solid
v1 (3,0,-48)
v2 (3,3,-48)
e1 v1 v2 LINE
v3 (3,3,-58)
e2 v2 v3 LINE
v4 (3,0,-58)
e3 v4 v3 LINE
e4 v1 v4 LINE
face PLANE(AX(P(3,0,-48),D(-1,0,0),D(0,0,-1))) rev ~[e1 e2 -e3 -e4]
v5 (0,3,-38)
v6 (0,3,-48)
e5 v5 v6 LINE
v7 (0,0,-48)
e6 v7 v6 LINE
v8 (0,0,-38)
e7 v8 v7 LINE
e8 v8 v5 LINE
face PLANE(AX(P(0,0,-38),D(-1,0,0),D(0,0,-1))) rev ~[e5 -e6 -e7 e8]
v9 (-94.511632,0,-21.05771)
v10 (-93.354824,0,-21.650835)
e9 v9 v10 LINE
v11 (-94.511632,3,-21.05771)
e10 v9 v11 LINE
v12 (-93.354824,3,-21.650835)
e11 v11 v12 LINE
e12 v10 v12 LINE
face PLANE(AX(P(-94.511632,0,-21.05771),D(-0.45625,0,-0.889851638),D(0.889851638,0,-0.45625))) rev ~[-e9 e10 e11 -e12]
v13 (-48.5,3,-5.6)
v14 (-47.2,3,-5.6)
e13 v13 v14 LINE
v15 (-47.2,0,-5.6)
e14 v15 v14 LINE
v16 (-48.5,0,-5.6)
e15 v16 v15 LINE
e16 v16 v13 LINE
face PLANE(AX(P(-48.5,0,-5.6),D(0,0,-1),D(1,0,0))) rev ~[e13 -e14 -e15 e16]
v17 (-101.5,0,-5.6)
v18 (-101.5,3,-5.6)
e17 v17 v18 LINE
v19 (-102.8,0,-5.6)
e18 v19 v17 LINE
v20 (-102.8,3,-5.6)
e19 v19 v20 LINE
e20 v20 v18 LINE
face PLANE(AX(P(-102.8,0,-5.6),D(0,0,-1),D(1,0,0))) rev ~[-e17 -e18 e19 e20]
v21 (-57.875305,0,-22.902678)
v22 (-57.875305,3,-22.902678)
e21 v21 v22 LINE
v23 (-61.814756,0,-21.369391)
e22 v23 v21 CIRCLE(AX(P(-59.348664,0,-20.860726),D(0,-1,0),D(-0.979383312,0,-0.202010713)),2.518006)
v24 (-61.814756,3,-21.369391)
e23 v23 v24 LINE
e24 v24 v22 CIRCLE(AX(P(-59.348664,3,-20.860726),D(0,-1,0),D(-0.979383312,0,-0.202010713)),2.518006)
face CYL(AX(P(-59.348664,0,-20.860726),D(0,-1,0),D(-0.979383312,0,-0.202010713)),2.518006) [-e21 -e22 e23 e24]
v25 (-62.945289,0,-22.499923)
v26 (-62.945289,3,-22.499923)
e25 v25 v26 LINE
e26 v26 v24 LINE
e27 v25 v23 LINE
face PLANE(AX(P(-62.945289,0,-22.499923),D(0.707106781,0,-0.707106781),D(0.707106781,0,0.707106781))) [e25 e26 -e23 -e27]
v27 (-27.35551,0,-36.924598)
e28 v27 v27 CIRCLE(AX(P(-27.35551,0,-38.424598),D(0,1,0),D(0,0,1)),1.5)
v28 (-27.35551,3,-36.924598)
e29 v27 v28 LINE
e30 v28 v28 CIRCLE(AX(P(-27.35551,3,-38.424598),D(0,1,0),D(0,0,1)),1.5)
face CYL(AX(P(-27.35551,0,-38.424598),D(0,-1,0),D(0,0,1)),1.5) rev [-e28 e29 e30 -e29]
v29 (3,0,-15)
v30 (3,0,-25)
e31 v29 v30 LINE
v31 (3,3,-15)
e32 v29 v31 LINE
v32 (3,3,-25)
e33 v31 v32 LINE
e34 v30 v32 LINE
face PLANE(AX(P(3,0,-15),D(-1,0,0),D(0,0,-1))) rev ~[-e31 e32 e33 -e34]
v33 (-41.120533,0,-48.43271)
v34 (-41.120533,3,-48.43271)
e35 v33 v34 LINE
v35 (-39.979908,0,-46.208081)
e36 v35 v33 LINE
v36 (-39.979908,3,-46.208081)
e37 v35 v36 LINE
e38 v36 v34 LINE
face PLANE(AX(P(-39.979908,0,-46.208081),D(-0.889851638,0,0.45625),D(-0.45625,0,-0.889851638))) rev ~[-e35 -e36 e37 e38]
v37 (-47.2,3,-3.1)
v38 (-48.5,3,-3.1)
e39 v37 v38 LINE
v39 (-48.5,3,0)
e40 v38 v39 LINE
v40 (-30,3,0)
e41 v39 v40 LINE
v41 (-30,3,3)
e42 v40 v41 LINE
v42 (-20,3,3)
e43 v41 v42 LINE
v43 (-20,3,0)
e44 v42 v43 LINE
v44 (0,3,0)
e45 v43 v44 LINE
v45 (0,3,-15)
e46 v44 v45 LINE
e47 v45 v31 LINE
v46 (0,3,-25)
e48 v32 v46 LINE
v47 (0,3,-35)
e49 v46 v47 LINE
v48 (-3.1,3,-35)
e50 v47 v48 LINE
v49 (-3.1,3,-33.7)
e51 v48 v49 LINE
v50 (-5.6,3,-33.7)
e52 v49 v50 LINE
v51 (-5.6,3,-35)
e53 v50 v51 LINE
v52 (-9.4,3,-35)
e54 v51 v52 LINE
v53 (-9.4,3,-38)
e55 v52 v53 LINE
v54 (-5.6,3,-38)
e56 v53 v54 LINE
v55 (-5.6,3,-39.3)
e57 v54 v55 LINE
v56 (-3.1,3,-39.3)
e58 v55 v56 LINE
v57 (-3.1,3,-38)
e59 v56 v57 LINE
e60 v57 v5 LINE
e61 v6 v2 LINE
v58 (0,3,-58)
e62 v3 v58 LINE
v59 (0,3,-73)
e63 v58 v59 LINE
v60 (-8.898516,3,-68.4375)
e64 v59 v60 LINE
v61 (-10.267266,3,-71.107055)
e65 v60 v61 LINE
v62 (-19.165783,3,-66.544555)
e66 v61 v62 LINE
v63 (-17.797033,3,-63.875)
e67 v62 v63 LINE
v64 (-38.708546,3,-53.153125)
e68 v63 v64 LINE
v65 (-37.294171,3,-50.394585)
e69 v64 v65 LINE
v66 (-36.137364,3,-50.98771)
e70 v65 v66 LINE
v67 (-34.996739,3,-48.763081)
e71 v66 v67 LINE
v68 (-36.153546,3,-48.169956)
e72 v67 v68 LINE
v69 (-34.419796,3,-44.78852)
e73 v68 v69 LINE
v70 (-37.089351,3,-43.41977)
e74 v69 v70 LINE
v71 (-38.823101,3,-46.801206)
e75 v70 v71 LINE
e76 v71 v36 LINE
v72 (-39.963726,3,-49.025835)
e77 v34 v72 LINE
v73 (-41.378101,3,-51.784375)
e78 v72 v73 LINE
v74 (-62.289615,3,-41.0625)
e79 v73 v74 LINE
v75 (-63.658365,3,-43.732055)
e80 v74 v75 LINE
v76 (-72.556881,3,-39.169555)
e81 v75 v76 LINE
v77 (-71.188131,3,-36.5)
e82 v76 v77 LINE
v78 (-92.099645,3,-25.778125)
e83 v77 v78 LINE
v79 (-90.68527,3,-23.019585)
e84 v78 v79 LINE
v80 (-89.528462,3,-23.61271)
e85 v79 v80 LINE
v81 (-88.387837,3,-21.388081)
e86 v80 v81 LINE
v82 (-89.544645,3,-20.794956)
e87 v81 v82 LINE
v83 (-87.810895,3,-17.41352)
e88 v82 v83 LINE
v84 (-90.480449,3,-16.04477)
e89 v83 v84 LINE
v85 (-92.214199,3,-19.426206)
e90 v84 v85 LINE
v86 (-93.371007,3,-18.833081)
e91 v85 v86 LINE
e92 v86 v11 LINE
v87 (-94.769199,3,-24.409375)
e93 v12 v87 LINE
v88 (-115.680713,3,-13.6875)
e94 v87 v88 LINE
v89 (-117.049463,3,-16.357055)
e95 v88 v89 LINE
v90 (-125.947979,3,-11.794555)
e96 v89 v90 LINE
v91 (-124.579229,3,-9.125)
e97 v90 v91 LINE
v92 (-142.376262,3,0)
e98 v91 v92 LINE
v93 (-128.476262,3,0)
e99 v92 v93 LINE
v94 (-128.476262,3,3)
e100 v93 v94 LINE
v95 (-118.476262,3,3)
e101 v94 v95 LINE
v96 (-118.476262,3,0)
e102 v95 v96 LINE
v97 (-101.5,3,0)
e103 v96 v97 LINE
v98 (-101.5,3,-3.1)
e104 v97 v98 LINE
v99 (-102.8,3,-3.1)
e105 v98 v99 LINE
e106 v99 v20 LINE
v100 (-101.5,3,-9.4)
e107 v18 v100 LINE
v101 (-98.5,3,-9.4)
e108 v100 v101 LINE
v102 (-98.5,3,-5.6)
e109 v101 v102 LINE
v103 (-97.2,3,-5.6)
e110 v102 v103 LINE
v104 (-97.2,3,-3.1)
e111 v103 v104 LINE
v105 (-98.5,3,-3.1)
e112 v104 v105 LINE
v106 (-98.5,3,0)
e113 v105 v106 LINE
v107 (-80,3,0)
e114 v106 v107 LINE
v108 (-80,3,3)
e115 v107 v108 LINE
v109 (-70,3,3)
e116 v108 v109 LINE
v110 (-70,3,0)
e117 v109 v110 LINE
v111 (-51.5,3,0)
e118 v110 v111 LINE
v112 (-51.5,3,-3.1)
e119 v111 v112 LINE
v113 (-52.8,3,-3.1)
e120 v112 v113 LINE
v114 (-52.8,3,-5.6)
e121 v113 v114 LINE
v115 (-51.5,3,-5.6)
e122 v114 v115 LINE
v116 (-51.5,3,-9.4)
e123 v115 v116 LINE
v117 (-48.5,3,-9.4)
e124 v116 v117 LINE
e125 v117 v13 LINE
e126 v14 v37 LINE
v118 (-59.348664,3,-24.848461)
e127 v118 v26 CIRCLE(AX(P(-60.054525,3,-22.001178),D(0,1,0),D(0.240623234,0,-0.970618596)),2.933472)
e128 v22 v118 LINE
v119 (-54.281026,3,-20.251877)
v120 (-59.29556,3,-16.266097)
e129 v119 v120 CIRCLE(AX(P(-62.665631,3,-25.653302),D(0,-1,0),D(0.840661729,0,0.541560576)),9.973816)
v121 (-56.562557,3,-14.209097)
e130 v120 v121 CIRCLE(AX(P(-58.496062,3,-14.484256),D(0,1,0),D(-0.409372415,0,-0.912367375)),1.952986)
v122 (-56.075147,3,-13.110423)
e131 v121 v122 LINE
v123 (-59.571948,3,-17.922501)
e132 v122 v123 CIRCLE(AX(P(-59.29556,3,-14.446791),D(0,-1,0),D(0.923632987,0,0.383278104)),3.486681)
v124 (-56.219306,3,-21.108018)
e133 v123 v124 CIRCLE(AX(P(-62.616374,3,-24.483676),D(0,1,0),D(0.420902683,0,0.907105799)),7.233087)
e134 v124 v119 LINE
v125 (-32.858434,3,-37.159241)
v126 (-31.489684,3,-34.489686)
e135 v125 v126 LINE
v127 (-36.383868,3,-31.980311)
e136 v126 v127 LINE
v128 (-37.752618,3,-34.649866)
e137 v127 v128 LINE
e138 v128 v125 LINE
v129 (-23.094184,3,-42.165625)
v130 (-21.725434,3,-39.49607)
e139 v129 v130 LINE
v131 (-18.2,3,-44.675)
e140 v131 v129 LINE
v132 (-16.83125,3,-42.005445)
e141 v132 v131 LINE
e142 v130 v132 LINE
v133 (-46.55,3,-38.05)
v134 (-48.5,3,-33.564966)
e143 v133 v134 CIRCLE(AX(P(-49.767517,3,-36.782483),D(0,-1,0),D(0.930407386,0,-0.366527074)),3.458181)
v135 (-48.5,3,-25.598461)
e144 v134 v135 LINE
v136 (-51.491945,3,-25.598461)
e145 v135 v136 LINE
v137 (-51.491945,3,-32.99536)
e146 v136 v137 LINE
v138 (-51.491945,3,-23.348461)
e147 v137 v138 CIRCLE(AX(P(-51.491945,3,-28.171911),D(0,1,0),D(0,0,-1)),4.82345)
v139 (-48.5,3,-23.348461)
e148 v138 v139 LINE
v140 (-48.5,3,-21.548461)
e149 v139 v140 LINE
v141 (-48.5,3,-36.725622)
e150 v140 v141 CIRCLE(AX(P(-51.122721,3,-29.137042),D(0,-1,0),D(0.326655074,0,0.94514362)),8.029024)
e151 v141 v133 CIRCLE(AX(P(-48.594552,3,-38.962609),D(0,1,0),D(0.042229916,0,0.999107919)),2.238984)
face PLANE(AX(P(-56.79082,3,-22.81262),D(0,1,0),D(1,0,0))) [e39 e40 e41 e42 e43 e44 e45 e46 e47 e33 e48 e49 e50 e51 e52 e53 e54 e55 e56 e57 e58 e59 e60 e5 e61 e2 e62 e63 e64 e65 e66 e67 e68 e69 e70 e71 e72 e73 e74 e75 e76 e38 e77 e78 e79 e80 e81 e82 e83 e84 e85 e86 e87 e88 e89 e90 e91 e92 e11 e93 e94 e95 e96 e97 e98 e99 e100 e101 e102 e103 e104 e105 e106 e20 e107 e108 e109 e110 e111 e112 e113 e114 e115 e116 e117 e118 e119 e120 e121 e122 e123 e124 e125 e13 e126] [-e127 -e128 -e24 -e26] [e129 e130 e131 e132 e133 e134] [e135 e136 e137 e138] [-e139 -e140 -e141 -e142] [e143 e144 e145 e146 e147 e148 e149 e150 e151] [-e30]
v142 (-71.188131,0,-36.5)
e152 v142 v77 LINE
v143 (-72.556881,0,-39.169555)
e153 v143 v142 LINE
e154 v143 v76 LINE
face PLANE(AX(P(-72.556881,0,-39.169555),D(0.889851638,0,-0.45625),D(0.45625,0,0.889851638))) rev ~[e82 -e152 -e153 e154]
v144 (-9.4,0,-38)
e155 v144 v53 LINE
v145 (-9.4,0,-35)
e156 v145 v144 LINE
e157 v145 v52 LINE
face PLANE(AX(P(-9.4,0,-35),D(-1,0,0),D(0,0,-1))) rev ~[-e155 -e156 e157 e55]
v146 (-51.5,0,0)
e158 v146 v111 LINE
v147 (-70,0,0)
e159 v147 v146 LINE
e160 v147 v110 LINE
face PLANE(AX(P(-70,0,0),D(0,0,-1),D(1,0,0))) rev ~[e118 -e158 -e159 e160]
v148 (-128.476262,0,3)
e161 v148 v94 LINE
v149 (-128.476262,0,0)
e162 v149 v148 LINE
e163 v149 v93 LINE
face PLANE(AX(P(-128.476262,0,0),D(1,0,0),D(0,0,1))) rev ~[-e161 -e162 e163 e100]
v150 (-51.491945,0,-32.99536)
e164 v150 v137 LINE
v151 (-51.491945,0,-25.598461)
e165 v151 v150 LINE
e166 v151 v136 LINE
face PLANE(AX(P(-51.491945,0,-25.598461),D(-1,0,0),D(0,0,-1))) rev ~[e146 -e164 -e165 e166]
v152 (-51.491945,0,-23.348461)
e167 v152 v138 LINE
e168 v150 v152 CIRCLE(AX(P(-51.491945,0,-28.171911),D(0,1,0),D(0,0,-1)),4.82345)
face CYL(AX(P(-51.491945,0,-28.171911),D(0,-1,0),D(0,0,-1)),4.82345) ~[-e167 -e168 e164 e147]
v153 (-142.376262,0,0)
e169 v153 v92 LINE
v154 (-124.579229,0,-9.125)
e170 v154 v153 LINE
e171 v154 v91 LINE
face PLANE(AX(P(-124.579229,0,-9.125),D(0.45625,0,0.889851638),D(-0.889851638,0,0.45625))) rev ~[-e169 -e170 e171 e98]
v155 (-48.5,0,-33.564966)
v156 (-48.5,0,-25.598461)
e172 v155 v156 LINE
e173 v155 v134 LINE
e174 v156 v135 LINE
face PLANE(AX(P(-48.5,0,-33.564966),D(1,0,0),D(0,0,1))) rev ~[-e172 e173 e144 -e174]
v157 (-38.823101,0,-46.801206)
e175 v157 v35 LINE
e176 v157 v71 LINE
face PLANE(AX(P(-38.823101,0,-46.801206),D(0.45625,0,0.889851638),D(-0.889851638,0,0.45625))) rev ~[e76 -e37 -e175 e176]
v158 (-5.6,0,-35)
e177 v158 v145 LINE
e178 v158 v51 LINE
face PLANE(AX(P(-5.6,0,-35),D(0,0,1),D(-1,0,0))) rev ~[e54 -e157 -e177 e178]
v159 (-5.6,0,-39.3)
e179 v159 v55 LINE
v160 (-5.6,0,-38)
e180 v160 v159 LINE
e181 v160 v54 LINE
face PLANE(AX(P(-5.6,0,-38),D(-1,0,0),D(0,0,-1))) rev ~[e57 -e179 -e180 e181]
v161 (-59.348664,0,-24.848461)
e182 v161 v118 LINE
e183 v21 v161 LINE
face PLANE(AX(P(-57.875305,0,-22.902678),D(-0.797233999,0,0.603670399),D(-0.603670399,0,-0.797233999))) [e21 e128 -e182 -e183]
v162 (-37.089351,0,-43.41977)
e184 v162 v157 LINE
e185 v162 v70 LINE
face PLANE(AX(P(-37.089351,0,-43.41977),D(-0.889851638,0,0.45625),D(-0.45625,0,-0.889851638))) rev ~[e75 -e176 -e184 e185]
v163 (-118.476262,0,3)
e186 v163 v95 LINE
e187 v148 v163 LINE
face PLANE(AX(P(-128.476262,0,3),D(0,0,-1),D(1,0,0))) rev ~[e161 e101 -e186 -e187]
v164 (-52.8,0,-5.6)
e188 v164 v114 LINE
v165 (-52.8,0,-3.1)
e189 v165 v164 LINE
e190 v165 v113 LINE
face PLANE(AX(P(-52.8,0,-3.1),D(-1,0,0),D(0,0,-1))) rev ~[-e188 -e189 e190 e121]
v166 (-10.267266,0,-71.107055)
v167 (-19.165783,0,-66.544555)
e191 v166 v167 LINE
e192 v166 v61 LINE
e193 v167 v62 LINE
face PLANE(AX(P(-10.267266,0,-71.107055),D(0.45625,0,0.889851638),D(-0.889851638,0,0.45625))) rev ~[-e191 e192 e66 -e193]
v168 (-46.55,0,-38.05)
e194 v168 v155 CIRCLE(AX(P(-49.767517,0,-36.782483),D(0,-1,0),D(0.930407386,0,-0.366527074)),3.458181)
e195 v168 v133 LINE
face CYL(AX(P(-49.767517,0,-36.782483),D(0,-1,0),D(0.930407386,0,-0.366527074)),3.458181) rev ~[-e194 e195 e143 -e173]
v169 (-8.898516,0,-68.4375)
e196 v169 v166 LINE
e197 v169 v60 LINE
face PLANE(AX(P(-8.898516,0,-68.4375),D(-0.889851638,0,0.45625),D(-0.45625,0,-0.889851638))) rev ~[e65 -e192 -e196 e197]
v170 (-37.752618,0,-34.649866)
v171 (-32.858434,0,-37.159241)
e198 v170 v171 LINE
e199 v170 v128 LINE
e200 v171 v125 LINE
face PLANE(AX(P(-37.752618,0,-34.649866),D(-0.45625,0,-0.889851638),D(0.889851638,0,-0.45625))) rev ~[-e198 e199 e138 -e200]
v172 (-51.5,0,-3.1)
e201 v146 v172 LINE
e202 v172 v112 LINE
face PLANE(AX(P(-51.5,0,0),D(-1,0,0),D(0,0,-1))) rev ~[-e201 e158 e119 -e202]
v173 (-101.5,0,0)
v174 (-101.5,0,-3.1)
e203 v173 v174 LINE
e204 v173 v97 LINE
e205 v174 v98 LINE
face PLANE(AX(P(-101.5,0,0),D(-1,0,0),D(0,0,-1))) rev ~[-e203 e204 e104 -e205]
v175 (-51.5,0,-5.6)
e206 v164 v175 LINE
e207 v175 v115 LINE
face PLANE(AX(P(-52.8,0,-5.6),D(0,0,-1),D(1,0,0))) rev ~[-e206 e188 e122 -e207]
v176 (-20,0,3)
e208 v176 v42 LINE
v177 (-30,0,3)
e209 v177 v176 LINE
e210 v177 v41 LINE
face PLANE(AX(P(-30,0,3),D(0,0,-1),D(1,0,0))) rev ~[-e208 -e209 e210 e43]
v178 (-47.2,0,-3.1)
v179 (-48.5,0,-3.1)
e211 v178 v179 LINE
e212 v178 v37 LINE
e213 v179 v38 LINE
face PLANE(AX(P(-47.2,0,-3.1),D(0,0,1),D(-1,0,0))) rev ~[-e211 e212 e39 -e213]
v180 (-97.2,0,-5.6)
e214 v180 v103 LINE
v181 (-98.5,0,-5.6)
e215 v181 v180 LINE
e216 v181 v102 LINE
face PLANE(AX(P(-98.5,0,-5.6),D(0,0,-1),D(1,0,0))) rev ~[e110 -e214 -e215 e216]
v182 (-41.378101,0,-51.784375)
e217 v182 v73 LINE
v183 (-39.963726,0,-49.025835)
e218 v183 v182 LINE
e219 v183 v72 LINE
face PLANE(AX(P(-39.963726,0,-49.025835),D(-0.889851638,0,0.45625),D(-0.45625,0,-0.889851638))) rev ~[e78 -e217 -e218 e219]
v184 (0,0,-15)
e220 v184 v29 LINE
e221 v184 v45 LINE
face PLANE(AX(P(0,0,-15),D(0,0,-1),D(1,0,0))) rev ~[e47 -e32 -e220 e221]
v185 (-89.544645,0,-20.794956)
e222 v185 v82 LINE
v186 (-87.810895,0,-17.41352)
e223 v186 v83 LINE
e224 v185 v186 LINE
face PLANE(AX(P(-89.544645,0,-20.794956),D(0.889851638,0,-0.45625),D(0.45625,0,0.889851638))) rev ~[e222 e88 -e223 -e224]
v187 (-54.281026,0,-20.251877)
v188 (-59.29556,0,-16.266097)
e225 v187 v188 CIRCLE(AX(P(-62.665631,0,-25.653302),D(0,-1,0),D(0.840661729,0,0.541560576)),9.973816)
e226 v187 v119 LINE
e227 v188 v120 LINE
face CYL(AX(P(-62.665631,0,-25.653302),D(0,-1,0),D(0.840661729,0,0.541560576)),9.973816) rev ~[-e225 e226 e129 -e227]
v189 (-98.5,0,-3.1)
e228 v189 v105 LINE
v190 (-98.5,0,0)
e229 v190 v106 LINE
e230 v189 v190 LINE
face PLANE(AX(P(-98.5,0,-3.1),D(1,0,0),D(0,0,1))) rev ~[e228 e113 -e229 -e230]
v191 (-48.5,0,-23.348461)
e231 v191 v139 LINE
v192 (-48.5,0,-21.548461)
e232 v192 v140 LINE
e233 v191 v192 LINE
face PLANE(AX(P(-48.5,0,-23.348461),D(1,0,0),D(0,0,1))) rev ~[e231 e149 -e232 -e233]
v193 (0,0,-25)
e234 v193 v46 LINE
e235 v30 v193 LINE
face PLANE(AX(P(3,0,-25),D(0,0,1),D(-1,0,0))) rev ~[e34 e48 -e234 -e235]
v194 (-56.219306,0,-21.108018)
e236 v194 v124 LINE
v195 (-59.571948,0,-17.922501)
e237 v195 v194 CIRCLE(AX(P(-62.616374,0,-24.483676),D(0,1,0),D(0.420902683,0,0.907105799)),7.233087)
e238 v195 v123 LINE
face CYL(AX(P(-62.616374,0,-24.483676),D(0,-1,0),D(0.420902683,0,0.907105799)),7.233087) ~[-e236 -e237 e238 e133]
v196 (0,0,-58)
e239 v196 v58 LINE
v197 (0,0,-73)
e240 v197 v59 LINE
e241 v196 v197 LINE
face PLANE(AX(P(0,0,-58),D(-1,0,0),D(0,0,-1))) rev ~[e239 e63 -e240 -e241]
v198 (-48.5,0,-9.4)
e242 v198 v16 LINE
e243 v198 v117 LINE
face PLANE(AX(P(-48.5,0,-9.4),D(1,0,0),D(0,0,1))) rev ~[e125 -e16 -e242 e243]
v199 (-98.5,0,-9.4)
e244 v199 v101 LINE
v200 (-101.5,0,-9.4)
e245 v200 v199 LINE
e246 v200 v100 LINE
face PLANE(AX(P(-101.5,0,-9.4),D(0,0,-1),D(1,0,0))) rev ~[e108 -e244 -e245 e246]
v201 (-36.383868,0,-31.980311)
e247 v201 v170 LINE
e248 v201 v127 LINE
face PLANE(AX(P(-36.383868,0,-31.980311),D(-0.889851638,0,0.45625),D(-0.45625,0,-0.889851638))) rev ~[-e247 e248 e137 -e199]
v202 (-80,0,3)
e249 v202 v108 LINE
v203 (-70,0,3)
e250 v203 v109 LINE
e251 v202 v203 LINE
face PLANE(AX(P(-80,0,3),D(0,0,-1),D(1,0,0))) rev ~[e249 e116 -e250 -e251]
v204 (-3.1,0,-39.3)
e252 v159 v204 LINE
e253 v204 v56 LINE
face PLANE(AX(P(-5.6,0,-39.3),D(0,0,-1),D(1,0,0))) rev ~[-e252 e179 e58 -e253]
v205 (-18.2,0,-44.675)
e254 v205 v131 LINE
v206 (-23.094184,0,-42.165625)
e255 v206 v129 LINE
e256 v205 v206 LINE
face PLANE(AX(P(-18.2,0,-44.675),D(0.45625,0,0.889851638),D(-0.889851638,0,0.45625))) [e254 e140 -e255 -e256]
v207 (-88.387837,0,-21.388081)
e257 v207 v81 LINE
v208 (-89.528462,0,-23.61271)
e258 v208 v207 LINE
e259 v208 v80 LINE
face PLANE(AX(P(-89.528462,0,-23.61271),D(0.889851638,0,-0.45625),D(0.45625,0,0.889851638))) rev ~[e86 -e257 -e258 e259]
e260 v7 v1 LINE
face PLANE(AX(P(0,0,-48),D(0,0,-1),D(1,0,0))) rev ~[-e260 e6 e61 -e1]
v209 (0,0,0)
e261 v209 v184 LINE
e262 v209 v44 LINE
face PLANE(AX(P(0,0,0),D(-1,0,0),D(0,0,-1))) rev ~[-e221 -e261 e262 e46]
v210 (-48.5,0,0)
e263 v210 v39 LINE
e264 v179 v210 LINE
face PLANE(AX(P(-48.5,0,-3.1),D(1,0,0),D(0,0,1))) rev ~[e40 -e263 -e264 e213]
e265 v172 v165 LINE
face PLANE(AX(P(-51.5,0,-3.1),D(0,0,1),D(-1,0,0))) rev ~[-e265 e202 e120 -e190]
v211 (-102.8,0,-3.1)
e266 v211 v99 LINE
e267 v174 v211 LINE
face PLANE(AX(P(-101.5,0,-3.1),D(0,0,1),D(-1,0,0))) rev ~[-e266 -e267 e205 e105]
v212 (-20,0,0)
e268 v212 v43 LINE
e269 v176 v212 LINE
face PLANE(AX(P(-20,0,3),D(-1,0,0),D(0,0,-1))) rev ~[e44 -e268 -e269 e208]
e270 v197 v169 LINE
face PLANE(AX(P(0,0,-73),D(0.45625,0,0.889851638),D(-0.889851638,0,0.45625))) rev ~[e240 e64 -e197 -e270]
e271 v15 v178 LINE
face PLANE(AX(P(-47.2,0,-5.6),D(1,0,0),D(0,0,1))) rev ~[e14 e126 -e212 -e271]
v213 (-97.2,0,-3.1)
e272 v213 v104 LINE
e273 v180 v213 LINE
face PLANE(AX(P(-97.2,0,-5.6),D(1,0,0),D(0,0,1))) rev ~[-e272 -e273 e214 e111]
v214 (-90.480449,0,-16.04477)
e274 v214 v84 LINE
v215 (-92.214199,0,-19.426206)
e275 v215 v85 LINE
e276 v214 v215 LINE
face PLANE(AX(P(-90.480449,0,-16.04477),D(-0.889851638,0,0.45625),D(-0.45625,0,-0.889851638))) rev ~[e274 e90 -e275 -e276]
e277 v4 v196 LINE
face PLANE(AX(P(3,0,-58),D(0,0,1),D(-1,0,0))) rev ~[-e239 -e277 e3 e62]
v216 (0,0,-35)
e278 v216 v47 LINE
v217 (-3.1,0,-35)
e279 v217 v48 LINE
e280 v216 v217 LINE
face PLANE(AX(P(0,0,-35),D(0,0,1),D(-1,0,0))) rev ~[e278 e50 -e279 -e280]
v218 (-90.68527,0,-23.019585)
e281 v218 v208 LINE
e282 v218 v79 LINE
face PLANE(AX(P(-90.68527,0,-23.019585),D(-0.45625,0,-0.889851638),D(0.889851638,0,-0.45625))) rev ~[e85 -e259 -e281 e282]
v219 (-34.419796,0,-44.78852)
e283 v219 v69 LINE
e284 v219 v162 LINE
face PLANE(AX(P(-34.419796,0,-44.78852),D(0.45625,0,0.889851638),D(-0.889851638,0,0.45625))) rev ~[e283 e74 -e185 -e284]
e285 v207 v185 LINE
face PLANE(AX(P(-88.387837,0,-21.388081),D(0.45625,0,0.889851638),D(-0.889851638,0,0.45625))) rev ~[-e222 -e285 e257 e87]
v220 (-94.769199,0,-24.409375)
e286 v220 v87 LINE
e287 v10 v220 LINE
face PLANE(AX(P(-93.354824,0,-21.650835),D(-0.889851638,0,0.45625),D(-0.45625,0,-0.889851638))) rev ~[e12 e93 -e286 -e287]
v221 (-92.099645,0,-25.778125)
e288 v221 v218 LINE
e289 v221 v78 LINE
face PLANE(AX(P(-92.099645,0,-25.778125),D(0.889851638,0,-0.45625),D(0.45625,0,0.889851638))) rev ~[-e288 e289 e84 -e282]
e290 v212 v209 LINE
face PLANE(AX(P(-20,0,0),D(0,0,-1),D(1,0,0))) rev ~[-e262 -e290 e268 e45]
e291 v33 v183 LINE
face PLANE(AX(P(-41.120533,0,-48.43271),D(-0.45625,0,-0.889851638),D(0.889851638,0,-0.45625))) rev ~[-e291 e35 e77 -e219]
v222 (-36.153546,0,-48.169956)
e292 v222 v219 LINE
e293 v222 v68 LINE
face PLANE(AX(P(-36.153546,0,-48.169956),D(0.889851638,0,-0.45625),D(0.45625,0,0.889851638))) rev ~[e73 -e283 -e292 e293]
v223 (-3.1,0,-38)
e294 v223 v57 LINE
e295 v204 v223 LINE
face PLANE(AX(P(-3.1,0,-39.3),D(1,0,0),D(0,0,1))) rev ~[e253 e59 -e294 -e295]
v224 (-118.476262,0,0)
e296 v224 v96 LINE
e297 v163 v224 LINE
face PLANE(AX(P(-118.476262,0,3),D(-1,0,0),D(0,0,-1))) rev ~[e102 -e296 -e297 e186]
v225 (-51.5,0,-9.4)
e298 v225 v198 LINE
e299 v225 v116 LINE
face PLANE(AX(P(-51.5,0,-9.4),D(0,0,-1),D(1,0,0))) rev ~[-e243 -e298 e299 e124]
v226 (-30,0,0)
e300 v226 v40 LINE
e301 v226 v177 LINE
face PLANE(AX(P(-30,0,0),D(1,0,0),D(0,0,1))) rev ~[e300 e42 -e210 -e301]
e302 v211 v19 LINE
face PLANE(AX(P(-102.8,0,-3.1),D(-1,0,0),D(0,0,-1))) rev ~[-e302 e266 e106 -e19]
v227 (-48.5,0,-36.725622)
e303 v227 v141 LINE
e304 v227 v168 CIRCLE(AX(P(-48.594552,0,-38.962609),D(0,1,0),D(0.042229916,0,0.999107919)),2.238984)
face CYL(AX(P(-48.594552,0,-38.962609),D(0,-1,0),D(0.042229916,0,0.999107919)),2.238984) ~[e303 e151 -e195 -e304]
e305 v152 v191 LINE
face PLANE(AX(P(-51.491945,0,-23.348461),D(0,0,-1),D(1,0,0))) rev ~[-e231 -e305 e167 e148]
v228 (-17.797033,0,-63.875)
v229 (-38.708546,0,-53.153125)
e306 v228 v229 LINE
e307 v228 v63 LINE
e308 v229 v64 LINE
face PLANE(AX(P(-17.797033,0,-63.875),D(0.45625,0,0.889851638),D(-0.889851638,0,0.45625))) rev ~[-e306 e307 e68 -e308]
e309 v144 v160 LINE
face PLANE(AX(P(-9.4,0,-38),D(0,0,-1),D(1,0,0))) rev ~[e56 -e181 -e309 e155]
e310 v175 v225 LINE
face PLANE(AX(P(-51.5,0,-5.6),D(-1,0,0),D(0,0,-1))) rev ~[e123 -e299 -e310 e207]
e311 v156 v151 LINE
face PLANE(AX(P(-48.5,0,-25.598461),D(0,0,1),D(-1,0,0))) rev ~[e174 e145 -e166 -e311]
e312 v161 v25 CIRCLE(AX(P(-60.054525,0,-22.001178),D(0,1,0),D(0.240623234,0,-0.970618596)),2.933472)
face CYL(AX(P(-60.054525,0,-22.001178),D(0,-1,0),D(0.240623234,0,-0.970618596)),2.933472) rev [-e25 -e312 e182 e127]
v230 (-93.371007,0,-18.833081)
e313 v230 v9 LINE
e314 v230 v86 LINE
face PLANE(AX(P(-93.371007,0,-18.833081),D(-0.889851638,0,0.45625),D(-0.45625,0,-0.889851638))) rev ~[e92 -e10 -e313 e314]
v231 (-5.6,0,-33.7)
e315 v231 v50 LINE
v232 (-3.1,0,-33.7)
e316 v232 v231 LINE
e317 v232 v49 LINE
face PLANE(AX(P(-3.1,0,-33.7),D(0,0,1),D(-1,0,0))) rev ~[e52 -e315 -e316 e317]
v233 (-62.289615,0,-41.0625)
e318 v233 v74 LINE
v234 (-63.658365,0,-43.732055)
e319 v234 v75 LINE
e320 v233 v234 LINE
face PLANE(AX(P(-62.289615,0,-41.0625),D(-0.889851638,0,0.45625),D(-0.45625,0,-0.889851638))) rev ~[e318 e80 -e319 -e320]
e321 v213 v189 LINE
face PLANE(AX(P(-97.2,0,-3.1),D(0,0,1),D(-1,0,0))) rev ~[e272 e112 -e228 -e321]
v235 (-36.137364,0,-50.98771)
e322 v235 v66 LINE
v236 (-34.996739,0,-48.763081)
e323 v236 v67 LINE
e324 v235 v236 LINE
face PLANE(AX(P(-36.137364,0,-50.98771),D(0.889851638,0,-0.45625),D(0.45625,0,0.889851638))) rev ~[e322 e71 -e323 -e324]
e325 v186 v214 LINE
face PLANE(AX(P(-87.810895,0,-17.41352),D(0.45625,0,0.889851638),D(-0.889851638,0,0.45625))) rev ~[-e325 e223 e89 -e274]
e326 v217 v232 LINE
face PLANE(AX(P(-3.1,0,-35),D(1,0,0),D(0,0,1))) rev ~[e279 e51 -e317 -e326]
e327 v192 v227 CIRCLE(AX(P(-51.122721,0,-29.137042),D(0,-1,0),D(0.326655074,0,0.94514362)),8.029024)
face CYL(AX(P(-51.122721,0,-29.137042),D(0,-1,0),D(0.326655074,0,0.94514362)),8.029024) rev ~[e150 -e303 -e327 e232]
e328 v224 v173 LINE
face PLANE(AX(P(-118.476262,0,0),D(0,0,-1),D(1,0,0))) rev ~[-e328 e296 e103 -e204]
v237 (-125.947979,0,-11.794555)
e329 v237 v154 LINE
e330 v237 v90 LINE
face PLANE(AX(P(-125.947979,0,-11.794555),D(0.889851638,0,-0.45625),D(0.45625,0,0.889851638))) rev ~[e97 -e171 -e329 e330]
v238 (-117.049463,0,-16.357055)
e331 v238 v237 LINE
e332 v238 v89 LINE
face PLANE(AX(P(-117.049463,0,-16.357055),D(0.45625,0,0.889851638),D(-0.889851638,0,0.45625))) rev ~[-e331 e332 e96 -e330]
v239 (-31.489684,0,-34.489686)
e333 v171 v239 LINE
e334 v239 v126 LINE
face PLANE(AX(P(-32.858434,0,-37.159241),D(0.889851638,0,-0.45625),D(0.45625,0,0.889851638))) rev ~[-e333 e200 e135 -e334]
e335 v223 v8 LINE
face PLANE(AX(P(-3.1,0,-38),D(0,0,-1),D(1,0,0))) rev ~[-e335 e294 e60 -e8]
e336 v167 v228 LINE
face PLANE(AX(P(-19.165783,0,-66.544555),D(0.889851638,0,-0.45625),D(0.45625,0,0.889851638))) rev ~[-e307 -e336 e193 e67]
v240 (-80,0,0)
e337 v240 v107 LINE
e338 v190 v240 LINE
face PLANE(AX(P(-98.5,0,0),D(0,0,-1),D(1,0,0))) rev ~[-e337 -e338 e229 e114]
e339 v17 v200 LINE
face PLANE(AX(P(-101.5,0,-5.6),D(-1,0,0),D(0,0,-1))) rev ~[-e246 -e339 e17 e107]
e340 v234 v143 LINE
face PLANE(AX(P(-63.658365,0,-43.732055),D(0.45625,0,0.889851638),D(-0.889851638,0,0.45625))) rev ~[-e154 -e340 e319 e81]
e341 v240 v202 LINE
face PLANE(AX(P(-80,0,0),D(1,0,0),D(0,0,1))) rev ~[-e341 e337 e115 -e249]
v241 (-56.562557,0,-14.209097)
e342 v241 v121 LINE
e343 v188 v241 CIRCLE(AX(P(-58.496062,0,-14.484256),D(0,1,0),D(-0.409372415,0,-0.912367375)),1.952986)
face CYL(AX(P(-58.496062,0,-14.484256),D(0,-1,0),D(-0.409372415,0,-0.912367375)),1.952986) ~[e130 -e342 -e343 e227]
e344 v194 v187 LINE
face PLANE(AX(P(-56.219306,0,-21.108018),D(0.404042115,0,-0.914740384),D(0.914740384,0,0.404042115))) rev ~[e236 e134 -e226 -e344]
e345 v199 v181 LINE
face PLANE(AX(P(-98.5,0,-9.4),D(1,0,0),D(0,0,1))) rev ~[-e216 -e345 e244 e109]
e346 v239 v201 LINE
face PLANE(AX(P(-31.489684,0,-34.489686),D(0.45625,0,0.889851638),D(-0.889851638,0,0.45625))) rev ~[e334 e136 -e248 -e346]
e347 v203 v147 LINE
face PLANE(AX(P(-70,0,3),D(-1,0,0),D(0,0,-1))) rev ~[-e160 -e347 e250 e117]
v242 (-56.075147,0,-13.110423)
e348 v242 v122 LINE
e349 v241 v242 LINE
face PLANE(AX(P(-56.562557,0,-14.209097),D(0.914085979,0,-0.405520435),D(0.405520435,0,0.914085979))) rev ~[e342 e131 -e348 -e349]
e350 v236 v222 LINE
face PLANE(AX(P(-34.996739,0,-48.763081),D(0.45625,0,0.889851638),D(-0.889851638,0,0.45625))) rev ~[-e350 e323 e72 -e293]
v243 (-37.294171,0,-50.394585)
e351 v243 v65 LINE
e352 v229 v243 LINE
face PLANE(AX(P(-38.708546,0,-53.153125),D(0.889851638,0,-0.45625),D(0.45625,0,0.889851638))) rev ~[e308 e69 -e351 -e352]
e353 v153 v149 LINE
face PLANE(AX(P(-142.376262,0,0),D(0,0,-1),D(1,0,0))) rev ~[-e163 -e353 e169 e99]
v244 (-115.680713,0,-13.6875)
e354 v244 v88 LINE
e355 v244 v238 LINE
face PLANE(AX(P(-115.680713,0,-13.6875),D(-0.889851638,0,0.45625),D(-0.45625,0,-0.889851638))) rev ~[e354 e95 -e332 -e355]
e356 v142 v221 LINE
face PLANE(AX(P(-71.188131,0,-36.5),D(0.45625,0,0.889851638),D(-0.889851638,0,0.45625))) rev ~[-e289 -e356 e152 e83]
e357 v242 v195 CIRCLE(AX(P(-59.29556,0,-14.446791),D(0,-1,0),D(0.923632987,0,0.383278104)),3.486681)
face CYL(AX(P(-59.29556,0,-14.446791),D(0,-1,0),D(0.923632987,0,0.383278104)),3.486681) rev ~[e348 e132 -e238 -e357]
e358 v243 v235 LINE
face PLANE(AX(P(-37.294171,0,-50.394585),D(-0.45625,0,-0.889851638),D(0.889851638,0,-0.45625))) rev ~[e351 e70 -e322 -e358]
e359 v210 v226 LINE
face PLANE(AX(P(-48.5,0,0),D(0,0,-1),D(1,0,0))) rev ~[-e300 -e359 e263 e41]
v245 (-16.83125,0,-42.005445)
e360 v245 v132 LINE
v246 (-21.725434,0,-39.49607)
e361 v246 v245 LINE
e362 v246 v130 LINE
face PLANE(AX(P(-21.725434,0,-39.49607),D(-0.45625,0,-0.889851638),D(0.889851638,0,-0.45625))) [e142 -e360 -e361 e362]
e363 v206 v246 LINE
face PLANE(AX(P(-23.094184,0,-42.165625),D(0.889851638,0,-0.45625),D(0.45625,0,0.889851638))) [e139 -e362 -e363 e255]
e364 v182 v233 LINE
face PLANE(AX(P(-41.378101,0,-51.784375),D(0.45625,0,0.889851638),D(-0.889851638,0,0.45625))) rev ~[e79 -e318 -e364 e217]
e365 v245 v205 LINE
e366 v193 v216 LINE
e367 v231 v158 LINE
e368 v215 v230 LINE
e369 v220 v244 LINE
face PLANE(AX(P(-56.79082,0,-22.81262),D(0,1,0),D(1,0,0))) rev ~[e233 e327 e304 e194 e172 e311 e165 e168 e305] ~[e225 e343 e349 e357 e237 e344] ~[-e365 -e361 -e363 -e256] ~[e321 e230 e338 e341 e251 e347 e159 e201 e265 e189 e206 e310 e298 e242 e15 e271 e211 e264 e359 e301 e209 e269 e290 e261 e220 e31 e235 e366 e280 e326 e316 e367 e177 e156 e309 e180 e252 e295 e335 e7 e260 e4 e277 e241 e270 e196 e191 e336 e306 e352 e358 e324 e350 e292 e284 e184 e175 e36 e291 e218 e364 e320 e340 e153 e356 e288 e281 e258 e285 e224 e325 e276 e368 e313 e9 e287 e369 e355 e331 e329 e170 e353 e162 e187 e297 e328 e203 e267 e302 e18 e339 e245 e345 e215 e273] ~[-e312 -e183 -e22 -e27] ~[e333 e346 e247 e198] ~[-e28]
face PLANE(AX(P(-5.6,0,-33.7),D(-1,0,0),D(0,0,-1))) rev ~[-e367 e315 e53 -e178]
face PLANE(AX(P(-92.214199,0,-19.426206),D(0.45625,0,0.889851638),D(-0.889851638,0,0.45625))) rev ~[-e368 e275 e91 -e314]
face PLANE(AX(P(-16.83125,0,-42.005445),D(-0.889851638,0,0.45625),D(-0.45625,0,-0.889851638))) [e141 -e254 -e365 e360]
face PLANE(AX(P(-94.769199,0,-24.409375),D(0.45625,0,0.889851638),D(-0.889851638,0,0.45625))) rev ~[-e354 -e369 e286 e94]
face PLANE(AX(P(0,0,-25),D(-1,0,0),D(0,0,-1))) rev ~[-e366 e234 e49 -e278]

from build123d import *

# Parameters (mm, degrees)
SKETCH1_R           = 1.5
BOSS_EXTRUDE1_DEPTH = 3


with BuildPart() as part:
    # Sketch1 → Boss-Extrude1 (new body)
    with BuildSketch(Plane(origin=(0, 0, 0), x_dir=(1, 0, 0), z_dir=(0, 1, 0))):
        Polygon((0, 73), (-8.898516379, 68.4375), (-10.267266379, 71.107054914), (-19.165782758, 66.544554914), (-17.797032758, 63.875), (-38.708546249, 53.153125), (-37.294171249, 50.394584922), (-36.13736412, 50.987709922), (-34.99673912, 48.763080828), (-36.153546249, 48.169955828), (-34.419796249, 44.788519604), (-37.089351163, 43.419769604), (-38.823101163, 46.801205828), (-39.979908292, 46.208080828), (-41.120533292, 48.432709922), (-39.963726163, 49.025834922), (-41.378101163, 51.784375), (-62.289614654, 41.0625), (-63.658364654, 43.732054914), (-72.556881033, 39.169554914), (-71.188131033, 36.5), (-92.099644524, 25.778125), (-90.685269524, 23.019584922), (-89.528462395, 23.612709922), (-88.387837395, 21.388080828), (-89.544644524, 20.794955828), (-87.810894524, 17.413519604), (-90.480449438, 16.044769604), (-92.214199438, 19.426205828), (-93.371006567, 18.833080828), (-94.511631567, 21.057709922), (-93.354824438, 21.650834922), (-94.769199438, 24.409375), (-115.680712929, 13.6875), (-117.049462929, 16.357054914), (-125.947979308, 11.794554914), (-124.579229308, 9.125), (-142.376262066, 0), (-128.476262066, 0), (-128.476262066, -3), (-118.476262066, -3), (-118.476262066, 0), (-101.5, 0), (-101.5, 3.1), (-102.8, 3.1), (-102.8, 5.6), (-101.5, 5.6), (-101.5, 9.4), (-98.5, 9.4), (-98.5, 5.6), (-97.2, 5.6), (-97.2, 3.1), (-98.5, 3.1), (-98.5, 0), (-80, 0), (-80, -3), (-70, -3), (-70, 0), (-51.5, 0), (-51.5, 3.1), (-52.8, 3.1), (-52.8, 5.6), (-51.5, 5.6), (-51.5, 9.4), (-48.5, 9.4), (-48.5, 5.6), (-47.2, 5.6), (-47.2, 3.1), (-48.5, 3.1), (-48.5, 0), (-30, 0), (-30, -3), (-20, -3), (-20, 0), (0, 0), (0, 15), (3, 15), (3, 25), (0, 25), (0, 35), (-3.1, 35), (-3.1, 33.7), (-5.6, 33.7), (-5.6, 35), (-9.4, 35), (-9.4, 38), (-5.6, 38), (-5.6, 39.3), (-3.1, 39.3), (-3.1, 38), (0, 38), (0, 48), (3, 48), (3, 58), (0, 58), align=None)
        with Locations(Location((-27.355510267, 38.424597543, 0), (0, 0, 270))):
            Circle(SKETCH1_R, mode=Mode.SUBTRACT)
        Polygon((-18.2, 44.675), (-23.094184009, 42.165625), (-21.725434009, 39.496070086), (-16.83125, 42.005445086), align=None, mode=Mode.SUBTRACT)
        Polygon((-32.858434402, 37.159240731), (-31.489684402, 34.489685817), (-36.383868411, 31.980310817), (-37.752618411, 34.649865731), align=None, mode=Mode.SUBTRACT)
        with BuildLine():
            Line((-48.5, 33.56496631), (-48.5, 25.598461138))
            Line((-48.5, 25.598461138), (-51.491944896, 25.598461138))
            Line((-51.491944896, 25.598461138), (-51.491944896, 32.995360227))
            ThreePointArc((-51.491944896, 32.995360227), (-56.315394441, 28.171910682), (-51.491944896, 23.348461138))
            Line((-51.491944896, 23.348461138), (-48.5, 23.348461138))
            Line((-48.5, 23.348461138), (-48.5, 21.548461138))
            ThreePointArc((-48.5, 21.548461138), (-59.151745227, 29.1370418), (-48.5, 36.725622462))
            ThreePointArc((-48.5, 36.725622462), (-47.33660311, 37.110417568), (-46.55, 38.05))
            ThreePointArc((-46.55, 38.05), (-46.596119109, 35.403624932), (-48.5, 33.56496631))
        make_face(mode=Mode.SUBTRACT)
        with BuildLine():
            Line((-62.945288743, 22.499922927), (-61.814756339, 21.369390522))
            ThreePointArc((-61.814756339, 21.369390522), (-60.26196681, 23.207262023), (-57.875304833, 22.902677745))
            Line((-57.875304833, 22.902677745), (-59.34866377, 24.848461138))
            ThreePointArc((-59.34866377, 24.848461138), (-61.658382233, 24.457375162), (-62.945288743, 22.499922927))
        make_face(mode=Mode.SUBTRACT)
        with BuildLine():
            Line((-56.219305992, 21.108017954), (-54.281025882, 20.251876901))
            ThreePointArc((-54.281025882, 20.251876901), (-56.459608889, 17.845467185), (-59.295560451, 16.26609694))
            ThreePointArc((-59.295560451, 16.26609694), (-59.670500049, 12.923855807), (-56.562556798, 14.209096735))
            Line((-56.562556798, 14.209096735), (-56.075146683, 13.110422752))
            ThreePointArc((-56.075146683, 13.110422752), (-62.116171263, 12.397132702), (-59.571948462, 17.922500654))
            ThreePointArc((-59.571948462, 17.922500654), (-57.634172668, 19.240087777), (-56.219305992, 21.108017954))
        make_face(mode=Mode.SUBTRACT)
    extrude(amount=BOSS_EXTRUDE1_DEPTH)


solid = part.part
